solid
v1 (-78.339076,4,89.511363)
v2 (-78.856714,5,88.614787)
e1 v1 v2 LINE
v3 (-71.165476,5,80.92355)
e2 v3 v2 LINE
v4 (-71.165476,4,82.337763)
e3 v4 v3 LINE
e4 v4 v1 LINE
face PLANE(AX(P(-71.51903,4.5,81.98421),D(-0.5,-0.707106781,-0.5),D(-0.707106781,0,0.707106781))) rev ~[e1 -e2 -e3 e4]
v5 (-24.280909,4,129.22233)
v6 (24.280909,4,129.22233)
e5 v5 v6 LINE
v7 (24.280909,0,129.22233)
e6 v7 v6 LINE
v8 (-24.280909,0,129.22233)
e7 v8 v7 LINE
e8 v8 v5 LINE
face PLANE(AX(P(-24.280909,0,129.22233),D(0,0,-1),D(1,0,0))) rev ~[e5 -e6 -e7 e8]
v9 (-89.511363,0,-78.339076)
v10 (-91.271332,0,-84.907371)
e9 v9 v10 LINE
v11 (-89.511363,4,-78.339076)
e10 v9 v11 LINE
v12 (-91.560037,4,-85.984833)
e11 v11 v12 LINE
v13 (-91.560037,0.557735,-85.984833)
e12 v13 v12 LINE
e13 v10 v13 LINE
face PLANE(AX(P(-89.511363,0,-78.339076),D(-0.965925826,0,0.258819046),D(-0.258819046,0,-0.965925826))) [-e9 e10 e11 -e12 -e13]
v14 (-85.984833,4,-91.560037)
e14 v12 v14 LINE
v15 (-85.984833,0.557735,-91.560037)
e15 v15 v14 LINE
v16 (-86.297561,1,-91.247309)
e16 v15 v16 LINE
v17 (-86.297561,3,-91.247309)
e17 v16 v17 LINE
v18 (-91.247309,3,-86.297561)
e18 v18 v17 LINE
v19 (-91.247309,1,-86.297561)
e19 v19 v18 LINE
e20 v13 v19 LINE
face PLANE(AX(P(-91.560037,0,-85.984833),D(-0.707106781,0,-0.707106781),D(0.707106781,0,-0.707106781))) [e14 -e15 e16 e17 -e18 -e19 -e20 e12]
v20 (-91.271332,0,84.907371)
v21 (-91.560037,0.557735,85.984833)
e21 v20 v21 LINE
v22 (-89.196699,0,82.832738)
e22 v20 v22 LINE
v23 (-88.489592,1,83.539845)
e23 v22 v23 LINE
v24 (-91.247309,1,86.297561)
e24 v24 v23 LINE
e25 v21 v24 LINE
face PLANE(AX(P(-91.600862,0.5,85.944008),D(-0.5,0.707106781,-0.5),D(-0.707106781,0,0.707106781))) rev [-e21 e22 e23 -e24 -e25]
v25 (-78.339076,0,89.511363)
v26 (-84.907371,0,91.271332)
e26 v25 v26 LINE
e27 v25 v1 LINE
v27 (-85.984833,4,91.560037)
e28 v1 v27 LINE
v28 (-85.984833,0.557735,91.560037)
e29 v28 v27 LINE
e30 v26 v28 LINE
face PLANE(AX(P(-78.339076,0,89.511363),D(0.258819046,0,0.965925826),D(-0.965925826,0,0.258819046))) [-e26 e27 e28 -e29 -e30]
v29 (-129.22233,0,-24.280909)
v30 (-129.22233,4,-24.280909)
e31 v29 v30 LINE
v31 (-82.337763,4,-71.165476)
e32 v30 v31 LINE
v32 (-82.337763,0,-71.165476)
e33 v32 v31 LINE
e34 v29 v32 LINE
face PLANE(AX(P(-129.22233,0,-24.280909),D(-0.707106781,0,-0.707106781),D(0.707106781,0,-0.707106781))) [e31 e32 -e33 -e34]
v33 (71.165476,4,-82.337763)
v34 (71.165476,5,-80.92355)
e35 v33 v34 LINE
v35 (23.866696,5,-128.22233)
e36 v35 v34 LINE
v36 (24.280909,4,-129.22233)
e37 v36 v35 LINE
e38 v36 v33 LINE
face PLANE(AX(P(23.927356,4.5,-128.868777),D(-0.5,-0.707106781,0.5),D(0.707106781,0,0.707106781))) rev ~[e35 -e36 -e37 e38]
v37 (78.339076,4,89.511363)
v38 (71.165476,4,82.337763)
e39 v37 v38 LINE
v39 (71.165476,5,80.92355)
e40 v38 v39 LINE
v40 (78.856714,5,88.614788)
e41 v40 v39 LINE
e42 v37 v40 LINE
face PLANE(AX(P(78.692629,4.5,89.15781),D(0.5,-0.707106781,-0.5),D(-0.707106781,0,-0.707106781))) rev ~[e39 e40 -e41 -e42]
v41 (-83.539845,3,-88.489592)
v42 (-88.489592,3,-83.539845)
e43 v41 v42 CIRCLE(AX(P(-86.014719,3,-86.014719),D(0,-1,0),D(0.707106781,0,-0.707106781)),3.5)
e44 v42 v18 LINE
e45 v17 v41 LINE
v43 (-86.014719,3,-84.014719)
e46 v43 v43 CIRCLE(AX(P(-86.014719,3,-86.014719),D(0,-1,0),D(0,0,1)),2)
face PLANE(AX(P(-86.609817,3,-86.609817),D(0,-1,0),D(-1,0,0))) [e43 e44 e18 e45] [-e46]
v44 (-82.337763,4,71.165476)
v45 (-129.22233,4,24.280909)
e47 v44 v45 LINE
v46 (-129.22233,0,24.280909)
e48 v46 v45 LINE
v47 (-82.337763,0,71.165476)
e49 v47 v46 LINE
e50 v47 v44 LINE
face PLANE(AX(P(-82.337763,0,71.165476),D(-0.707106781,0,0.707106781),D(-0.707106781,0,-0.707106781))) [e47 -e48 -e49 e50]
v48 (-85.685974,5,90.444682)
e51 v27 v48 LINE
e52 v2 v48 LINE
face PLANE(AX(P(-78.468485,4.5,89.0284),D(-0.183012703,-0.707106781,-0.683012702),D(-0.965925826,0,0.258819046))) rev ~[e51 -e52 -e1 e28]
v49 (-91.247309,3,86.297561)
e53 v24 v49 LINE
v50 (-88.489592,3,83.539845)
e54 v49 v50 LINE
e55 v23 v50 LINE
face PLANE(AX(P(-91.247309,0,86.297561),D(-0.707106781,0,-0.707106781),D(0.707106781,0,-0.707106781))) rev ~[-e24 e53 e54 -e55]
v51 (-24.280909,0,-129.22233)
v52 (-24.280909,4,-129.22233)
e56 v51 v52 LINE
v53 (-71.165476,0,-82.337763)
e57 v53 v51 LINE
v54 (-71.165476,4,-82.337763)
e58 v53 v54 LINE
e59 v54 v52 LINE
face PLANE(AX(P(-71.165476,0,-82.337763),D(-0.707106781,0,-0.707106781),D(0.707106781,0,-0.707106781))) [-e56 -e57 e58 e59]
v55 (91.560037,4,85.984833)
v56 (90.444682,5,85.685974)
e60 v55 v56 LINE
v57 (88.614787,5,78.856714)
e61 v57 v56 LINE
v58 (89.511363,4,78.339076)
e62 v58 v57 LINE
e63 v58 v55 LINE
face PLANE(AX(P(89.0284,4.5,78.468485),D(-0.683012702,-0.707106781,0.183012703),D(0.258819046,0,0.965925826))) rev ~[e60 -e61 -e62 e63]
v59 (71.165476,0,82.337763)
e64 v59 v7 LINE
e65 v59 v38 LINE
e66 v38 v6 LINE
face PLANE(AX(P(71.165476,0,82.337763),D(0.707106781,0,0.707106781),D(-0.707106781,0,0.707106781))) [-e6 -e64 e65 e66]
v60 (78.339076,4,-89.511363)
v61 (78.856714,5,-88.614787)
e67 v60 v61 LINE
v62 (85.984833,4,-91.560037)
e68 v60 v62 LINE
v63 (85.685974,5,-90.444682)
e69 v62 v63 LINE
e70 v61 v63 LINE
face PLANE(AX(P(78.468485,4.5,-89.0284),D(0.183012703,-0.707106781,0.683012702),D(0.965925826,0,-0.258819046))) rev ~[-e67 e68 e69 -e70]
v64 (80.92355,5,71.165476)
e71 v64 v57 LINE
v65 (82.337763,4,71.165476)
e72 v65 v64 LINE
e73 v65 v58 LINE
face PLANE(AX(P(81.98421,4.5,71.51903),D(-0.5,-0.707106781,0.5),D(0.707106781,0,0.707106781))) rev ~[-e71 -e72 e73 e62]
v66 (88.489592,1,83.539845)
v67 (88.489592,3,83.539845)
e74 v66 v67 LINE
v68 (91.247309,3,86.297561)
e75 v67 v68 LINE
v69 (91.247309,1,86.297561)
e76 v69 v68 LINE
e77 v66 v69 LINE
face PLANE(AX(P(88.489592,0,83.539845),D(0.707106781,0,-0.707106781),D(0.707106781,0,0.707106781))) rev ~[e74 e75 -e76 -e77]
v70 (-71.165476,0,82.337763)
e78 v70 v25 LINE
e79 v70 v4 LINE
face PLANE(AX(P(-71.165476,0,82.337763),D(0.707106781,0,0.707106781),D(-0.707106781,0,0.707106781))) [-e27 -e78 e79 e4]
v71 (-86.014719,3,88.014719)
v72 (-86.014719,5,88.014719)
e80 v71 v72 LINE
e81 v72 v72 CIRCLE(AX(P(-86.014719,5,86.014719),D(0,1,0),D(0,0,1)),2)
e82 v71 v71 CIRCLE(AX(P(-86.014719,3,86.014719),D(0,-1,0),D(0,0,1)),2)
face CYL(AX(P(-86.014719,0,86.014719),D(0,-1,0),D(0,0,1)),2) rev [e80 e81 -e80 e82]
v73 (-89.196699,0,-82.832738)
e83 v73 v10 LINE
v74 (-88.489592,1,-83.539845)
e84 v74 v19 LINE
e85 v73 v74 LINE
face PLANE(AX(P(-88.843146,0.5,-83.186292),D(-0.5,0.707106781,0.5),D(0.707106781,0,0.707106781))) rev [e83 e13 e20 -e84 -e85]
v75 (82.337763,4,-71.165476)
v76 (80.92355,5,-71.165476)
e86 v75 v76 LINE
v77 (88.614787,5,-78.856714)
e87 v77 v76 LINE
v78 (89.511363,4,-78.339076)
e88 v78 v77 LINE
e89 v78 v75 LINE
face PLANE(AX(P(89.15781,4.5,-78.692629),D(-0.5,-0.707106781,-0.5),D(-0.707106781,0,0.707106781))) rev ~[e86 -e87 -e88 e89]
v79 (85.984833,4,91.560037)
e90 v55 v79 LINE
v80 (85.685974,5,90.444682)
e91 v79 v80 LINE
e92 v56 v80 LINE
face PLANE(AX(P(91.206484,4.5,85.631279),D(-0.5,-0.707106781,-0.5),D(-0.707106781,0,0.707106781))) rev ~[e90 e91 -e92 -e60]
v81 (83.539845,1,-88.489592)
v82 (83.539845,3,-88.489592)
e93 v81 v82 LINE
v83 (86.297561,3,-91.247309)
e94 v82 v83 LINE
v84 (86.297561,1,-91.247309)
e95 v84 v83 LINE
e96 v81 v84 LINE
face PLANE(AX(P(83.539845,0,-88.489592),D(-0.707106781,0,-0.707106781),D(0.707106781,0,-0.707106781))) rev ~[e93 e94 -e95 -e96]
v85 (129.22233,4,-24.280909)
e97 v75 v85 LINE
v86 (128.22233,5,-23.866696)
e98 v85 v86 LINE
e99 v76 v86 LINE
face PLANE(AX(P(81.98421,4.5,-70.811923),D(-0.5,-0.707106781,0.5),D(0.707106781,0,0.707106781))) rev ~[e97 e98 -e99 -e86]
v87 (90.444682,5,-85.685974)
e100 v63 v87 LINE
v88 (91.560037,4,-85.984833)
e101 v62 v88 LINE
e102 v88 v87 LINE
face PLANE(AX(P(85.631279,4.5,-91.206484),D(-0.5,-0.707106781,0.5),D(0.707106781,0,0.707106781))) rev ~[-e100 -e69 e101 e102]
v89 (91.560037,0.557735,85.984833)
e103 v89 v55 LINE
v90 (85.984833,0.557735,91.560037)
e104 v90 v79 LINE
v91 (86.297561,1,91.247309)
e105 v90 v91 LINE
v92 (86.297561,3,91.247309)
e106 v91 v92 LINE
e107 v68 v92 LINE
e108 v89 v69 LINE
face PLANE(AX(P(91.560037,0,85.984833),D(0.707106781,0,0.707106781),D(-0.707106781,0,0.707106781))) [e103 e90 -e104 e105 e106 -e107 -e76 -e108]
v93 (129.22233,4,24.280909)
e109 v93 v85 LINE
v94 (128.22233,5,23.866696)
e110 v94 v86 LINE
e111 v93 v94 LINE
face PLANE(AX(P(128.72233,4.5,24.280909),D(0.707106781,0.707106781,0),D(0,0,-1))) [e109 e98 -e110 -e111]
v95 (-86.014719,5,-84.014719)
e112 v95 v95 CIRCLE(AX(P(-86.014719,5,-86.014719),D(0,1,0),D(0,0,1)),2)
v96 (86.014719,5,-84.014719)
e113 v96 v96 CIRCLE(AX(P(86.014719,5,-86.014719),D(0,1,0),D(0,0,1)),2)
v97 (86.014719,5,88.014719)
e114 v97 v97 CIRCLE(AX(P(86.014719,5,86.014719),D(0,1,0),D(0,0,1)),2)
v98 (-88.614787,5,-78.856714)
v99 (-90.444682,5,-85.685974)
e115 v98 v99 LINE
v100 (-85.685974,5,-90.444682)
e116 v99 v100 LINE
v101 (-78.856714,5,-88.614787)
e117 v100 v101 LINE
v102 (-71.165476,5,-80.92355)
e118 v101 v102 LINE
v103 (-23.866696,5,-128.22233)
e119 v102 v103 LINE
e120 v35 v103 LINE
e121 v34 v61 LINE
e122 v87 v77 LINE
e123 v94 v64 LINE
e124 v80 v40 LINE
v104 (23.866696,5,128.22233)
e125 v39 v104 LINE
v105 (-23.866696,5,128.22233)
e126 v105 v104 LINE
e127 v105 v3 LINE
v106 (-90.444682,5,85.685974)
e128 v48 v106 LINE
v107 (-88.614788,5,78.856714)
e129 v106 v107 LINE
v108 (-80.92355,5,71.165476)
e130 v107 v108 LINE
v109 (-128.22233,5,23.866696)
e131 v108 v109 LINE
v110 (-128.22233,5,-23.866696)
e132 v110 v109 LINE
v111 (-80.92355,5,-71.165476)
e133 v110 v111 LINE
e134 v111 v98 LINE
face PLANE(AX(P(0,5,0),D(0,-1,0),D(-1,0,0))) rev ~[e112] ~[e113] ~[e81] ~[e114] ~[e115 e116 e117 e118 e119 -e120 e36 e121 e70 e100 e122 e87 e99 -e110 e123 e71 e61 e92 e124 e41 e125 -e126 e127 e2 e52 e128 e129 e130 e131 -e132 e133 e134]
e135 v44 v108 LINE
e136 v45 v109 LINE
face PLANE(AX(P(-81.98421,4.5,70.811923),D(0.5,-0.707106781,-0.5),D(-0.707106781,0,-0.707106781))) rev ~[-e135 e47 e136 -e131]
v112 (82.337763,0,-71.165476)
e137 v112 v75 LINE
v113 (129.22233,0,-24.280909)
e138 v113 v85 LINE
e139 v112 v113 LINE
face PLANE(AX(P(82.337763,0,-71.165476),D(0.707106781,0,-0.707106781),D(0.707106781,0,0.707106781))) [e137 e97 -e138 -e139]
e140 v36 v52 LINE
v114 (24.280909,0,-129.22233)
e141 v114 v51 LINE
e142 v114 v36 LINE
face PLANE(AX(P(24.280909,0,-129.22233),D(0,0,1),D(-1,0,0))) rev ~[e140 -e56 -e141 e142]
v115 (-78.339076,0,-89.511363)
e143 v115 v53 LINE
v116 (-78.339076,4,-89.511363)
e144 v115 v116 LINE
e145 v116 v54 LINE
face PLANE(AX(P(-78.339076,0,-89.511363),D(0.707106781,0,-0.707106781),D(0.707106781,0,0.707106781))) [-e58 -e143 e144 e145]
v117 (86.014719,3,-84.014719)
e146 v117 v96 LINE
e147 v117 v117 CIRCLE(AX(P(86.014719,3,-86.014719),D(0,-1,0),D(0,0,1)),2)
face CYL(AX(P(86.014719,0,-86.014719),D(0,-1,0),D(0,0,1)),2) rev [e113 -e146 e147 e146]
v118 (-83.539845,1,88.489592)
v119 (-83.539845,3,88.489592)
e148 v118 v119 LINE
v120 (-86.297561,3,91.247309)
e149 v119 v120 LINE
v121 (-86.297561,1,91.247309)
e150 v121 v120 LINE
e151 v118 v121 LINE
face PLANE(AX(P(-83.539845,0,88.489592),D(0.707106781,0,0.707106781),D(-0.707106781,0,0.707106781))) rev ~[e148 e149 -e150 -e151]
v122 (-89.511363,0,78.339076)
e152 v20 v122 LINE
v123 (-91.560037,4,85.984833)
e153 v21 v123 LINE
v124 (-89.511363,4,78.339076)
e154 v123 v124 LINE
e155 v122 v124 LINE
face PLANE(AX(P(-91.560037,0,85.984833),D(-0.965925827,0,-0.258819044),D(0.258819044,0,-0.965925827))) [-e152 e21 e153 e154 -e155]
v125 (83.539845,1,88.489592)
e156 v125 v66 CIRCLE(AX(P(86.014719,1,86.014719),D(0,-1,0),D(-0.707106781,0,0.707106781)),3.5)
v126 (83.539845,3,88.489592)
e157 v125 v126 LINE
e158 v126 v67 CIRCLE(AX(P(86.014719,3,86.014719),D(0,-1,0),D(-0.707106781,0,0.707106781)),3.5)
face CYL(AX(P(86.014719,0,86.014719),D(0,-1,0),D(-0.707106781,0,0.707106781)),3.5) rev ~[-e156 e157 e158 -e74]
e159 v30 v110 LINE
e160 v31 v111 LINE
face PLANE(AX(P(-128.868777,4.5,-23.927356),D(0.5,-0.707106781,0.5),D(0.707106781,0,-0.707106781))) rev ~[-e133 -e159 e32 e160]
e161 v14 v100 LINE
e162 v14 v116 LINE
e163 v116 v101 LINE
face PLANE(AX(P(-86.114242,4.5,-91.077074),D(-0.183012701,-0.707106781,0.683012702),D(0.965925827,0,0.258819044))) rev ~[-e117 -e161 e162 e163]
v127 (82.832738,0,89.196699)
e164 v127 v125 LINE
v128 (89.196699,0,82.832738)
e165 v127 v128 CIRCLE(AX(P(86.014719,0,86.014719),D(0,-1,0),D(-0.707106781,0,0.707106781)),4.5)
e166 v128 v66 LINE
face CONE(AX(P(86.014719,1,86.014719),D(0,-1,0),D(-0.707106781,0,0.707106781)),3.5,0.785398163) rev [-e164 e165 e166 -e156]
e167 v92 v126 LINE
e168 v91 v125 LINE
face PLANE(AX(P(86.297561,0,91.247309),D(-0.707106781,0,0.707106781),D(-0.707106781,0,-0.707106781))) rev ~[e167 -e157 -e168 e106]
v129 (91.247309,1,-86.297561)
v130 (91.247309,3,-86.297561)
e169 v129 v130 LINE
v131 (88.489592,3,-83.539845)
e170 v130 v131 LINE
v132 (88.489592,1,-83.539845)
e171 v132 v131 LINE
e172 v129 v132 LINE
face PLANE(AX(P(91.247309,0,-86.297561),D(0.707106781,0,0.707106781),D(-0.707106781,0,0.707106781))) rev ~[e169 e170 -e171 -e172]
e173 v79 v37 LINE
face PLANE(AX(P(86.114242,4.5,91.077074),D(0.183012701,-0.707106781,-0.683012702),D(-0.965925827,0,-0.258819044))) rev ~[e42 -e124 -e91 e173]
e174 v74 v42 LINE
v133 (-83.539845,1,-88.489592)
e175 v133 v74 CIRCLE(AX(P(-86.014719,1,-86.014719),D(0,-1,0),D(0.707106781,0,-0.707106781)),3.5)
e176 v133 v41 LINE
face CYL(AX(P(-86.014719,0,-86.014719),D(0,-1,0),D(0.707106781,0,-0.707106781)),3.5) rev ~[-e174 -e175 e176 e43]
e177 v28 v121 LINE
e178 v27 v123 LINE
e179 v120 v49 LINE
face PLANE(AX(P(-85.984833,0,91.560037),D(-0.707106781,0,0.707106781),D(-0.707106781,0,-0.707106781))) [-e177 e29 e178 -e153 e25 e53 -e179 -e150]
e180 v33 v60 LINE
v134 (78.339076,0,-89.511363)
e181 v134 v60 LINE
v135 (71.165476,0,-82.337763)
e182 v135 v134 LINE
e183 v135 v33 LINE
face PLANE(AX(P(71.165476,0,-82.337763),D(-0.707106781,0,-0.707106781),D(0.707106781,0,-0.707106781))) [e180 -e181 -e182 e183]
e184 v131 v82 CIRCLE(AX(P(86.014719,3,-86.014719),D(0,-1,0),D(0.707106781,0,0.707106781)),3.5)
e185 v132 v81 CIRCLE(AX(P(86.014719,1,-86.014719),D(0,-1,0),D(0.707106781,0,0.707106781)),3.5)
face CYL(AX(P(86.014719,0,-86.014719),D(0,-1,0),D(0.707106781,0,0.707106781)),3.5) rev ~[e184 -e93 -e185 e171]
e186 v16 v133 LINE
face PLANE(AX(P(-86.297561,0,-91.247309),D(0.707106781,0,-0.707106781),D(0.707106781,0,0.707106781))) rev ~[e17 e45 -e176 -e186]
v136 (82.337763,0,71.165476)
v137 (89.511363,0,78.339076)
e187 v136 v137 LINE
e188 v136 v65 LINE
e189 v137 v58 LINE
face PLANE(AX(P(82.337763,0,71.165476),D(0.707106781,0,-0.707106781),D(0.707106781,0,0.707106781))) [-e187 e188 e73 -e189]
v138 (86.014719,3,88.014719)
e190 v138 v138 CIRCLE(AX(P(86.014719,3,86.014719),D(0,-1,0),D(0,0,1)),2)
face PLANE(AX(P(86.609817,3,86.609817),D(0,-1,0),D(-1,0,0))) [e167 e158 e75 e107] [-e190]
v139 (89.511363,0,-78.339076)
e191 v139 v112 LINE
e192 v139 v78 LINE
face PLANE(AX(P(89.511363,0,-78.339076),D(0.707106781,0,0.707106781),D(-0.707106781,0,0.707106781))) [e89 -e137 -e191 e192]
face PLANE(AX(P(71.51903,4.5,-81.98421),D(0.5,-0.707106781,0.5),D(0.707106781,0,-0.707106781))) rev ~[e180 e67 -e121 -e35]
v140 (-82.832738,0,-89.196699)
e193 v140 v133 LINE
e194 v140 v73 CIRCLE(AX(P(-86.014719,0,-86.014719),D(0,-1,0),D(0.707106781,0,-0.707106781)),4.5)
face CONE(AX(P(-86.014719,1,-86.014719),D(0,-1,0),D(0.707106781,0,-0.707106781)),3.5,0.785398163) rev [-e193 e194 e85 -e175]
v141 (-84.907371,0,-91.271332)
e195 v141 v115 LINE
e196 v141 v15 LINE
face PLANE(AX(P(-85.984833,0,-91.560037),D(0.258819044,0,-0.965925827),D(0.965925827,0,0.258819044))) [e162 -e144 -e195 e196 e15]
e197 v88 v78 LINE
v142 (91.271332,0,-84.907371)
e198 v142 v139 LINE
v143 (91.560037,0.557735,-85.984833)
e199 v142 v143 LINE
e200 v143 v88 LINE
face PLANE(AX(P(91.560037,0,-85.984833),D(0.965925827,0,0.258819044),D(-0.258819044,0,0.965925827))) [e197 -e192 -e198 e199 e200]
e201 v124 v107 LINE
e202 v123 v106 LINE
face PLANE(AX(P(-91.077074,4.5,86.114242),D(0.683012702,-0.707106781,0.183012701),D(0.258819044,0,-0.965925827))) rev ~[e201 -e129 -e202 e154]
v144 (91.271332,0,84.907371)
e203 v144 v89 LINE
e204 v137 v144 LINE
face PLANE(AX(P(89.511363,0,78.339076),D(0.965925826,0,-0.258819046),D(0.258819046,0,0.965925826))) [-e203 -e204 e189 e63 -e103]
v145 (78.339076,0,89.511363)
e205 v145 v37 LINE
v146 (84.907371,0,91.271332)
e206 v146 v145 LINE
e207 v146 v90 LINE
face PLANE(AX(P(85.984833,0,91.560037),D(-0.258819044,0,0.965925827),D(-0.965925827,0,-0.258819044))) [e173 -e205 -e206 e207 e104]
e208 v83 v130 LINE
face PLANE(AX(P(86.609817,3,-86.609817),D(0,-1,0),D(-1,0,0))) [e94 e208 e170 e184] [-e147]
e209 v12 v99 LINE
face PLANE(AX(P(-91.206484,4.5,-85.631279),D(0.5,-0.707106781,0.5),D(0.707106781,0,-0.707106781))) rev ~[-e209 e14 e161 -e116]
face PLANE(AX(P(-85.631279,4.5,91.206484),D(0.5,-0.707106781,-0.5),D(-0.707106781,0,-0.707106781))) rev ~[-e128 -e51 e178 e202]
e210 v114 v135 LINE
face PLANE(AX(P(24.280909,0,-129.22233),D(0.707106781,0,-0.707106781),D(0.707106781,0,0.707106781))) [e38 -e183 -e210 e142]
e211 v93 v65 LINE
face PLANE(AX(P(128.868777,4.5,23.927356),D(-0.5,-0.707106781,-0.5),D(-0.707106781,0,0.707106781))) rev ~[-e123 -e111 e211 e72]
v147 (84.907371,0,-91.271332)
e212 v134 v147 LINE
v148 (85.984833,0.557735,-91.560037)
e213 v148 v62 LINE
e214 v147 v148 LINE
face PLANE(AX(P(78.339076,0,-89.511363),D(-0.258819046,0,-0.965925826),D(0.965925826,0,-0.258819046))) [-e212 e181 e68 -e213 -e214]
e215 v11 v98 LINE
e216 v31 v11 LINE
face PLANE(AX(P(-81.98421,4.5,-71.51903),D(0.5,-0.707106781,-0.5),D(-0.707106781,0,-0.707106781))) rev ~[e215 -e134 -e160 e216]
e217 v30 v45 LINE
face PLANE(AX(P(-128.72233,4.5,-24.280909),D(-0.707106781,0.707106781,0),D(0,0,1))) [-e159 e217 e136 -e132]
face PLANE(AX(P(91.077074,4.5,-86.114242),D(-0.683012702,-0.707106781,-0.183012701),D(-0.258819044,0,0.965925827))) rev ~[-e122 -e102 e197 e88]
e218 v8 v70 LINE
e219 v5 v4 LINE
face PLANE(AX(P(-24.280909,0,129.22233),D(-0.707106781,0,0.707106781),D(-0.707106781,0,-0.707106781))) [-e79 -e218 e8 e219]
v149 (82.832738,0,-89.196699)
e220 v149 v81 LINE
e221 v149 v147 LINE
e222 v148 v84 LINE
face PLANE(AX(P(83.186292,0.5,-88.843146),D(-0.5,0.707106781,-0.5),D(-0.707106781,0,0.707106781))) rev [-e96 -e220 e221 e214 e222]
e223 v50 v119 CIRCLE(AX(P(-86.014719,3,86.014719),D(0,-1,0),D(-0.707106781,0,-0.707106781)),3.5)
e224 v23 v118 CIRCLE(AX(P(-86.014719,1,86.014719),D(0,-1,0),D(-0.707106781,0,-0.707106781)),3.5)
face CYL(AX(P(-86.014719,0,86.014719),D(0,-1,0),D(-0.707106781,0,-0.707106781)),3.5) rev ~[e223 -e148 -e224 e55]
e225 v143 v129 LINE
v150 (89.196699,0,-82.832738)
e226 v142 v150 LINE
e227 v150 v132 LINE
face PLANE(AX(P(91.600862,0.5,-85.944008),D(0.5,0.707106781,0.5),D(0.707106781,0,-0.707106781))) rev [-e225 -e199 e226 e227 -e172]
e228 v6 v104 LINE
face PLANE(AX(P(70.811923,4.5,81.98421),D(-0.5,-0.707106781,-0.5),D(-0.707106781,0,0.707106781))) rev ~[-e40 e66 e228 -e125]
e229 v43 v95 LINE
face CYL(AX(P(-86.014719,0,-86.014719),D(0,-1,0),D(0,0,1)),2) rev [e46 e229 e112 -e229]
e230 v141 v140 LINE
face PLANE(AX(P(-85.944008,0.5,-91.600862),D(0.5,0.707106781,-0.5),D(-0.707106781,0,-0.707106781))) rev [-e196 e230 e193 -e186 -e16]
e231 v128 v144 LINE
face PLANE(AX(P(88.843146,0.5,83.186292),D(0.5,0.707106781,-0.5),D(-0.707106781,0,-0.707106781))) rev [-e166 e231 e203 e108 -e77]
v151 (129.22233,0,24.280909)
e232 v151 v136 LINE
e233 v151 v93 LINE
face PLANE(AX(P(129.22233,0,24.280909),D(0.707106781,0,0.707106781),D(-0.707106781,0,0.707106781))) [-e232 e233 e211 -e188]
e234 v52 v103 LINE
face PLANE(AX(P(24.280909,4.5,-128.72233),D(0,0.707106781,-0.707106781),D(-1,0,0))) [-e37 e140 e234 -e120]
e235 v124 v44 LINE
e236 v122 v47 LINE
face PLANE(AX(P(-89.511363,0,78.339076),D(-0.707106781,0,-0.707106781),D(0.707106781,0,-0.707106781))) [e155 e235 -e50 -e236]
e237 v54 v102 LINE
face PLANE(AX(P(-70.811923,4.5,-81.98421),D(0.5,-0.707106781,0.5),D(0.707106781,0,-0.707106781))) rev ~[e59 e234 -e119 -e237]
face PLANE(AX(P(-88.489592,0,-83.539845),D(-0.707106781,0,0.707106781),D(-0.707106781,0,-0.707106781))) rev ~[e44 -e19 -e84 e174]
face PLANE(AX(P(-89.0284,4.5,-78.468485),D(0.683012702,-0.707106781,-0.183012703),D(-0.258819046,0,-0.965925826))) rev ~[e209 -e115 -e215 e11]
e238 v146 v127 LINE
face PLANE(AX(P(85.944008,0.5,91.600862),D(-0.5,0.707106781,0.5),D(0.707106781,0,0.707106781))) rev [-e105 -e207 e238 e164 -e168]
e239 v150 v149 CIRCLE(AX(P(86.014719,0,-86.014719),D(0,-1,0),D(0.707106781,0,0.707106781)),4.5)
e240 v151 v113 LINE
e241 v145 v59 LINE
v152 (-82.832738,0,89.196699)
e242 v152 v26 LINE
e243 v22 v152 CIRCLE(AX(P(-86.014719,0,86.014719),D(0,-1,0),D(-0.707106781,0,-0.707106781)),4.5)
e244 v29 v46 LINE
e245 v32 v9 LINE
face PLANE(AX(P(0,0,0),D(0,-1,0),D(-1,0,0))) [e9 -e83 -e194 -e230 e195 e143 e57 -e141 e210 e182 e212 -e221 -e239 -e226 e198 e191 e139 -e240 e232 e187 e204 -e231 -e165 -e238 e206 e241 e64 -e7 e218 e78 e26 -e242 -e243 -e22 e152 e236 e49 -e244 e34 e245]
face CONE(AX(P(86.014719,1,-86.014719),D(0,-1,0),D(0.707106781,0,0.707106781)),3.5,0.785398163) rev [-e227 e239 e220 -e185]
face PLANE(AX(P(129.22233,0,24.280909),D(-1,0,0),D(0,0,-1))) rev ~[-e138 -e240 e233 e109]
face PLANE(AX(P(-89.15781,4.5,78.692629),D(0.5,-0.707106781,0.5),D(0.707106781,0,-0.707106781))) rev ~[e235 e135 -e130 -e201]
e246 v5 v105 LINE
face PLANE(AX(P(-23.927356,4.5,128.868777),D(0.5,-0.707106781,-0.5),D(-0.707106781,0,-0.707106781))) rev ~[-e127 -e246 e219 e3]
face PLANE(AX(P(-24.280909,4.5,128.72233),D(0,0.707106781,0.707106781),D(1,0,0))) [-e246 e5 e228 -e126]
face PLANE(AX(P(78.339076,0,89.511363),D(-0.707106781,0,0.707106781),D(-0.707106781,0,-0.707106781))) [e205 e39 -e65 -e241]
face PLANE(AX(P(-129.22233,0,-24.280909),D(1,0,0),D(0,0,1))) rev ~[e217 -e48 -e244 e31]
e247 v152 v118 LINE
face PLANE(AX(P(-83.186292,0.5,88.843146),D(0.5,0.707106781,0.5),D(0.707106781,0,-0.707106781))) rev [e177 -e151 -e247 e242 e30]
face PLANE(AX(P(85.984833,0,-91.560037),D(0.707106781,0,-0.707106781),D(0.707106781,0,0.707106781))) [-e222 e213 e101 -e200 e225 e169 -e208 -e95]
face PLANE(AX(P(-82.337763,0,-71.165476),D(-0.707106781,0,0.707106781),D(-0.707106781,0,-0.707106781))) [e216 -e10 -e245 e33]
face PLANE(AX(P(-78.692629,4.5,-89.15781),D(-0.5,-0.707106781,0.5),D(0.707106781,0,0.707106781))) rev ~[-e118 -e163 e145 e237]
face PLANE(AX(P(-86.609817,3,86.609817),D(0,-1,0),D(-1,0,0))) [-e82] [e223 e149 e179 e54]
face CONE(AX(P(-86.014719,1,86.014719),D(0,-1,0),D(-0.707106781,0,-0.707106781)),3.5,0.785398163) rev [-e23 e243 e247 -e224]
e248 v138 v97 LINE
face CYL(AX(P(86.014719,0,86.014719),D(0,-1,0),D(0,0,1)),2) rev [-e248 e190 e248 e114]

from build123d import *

# Parameters (mm, degrees)
SKETCH2_R                            = 2
SKETCH2_R_2                          = 1.999999996
MAIN_FLOOR_EXTRUDE_DEPTH             = 5
MAIN_FLOOR_CHAMFER_SIZE              = 1
MOUNT_SCREW_COUNTERSINK_DEPTH        = 3
MOUNT_SCREW_COUNTERSINK_CHAMFER_SIZE = 1


with BuildPart() as part:
    # Sketch2 → Main Floor Extrude (new body)
    with BuildSketch(Plane(origin=(0, 0, 0), x_dir=(1, 0, 0), z_dir=(0, 1, 0))):
        Polygon((129.222330464, 0), (129.222330464, -24.28090912), (82.337763357, -71.165476227), (89.511362957, -78.339075827), (91.560037368, -85.984832777), (85.984832777, -91.560037368), (78.339075822, -89.511362977), (71.165476214, -82.33776337), (24.280909108, -129.222330477), (0, -129.222330477), (-24.28090912, -129.222330477), (-71.165476227, -82.33776337), (-78.339075827, -89.51136297), (-85.984832777, -91.560037381), (-91.560037368, -85.984832789), (-89.511362977, -78.339075834), (-82.33776337, -71.165476227), (-129.222330477, -24.28090912), (-129.222330477, -1.3e-08), (-129.222330477, 24.280909108), (-82.33776337, 71.165476214), (-89.51136297, 78.339075814), (-91.560037381, 85.984832764), (-85.984832789, 91.560037355), (-78.339075834, 89.511362964), (-71.165476227, 82.337763357), (-24.28090912, 129.222330464), (-1.3e-08, 129.222330464), (24.280909108, 129.222330464), (71.165476214, 82.337763357), (78.339075814, 89.511362957), (85.984832764, 91.560037368), (91.560037355, 85.984832777), (89.511362964, 78.339075822), (82.337763357, 71.165476214), (129.222330464, 24.280909108), align=None)
        with Locations(Location((86.014718626, -86.014718626, 0), (0, 0, 270))):
            Circle(SKETCH2_R, mode=Mode.SUBTRACT)
        with Locations(Location((-86.014718626, -86.014718639, 0), (0, 0, 270))):
            Circle(SKETCH2_R, mode=Mode.SUBTRACT)
        with Locations(Location((-86.014718639, 86.014718613, 0), (0, 0, 270))):
            Circle(SKETCH2_R, mode=Mode.SUBTRACT)
        with Locations(Location((86.014718613, 86.014718626, 0), (0, 0, 270))):
            Circle(SKETCH2_R_2, mode=Mode.SUBTRACT)
    extrude(amount=MAIN_FLOOR_EXTRUDE_DEPTH)

    # Main Floor Chamfer
    main_floor_chamfer_edges = [part.edges().sort_by_distance(p)[0] for p in [
        (-74.752276027, 5, 85.92456317),
        (-47.723192674, 5, 105.780046923),
        (-6e-09, 5, 129.222330477),
        (47.723192661, 5, 105.780046923),
        (74.752276018, 5, 85.924563174),
        (82.161954299, 5, 90.535700173),
        (88.772435072, 5, 88.772435072),
        (85.924563161, 5, -74.752276018),
        (90.535700163, 5, 82.161954302),
        (85.924563157, 5, 74.752276027),
        (105.780046911, 5, 47.723192674),
        (90.53570016, 5, -82.161954299),
        (88.77243506, 5, -88.772435072),
        (82.161954289, 5, -90.535700163),
        (74.752276014, 5, -85.924563157),
        (47.723192661, 5, -105.780046911),
        (-6e-09, 5, -129.222330464),
        (-47.723192674, 5, -105.780046911),
        (-74.752276031, 5, -85.924563161),
        (129.222330464, 5, 6e-09),
        (-82.161954312, 5, -90.53570016),
        (-88.772435085, 5, -88.77243506),
        (-90.535700175, 5, -82.161954289),
        (-85.92456317, 5, -74.752276014),
        (-105.780046923, 5, -47.723192661),
        (-129.222330477, 5, 6e-09),
        (-105.780046923, 5, 47.723192674),
        (-85.924563174, 5, 74.752276031),
        (-90.535700173, 5, 82.161954312),
        (105.780046911, 5, -47.723192661),
        (-88.772435072, 5, 88.772435085),
        (-82.161954302, 5, 90.535700175),
    ]]
    chamfer(main_floor_chamfer_edges, length=MAIN_FLOOR_CHAMFER_SIZE)

    # Sketch3 → Mount Screw Countersink (cut)
    with BuildSketch(Plane(origin=(0, 0, 0), x_dir=(-1, 0, 0), z_dir=(0, -1, 0))):
        with BuildLine():
            Line((91.247308807, -86.297561351), (88.48959236, -83.539844904))
            ThreePointArc((88.48959236, -83.539844904), (83.539844892, -83.539844904), (83.539844892, -88.489592373))
            Line((83.539844892, -88.489592373), (86.297561338, -91.247308819))
            Line((86.297561338, -91.247308819), (91.247308807, -86.297561351))
        make_face()
        with BuildLine():
            Line((-86.297561351, -91.247308807), (-83.539844904, -88.48959236))
            ThreePointArc((-83.539844904, -88.48959236), (-83.539844904, -83.539844892), (-88.489592373, -83.539844892))
            Line((-88.489592373, -83.539844892), (-91.247308819, -86.297561338))
            Line((-91.247308819, -86.297561338), (-86.297561351, -91.247308807))
        make_face()
        with BuildLine():
            Line((-91.247308807, 86.297561351), (-88.48959236, 83.539844904))
            ThreePointArc((-88.48959236, 83.539844904), (-83.539844892, 83.539844904), (-83.539844892, 88.489592373))
            Line((-83.539844892, 88.489592373), (-86.297561338, 91.247308819))
            Line((-86.297561338, 91.247308819), (-91.247308807, 86.297561351))
        make_face()
        with BuildLine():
            Line((86.297561351, 91.247308807), (83.539844904, 88.48959236))
            ThreePointArc((83.539844904, 88.48959236), (83.539844904, 83.539844892), (88.489592373, 83.539844892))
            Line((88.489592373, 83.539844892), (91.247308819, 86.297561338))
            Line((91.247308819, 86.297561338), (86.297561351, 91.247308807))
        make_face()
    extrude(amount=-MOUNT_SCREW_COUNTERSINK_DEPTH, mode=Mode.SUBTRACT)

    # Mount Screw Countersink Chamfer
    mount_screw_countersink_chamfer_edges = [part.edges().sort_by_distance(p)[0] for p in [
        (-84.918703128, 0, -89.868450583),
        (-89.868450596, 0, -84.918703115),
        (-83.539844904, 0, -83.539844892),
        (89.868450583, 0, -84.918703128),
        (84.918703115, 0, -89.868450596),
        (83.539844892, 0, -83.539844904),
        (84.918703128, 0, 89.868450583),
        (89.868450596, 0, 84.918703115),
        (83.539844904, 0, 83.539844892),
        (-89.868450583, 0, 84.918703128),
        (-84.918703115, 0, 89.868450596),
        (-83.539844892, 0, 83.539844904),
    ]]
    chamfer(mount_screw_countersink_chamfer_edges, length=MOUNT_SCREW_COUNTERSINK_CHAMFER_SIZE)


solid = part.part
